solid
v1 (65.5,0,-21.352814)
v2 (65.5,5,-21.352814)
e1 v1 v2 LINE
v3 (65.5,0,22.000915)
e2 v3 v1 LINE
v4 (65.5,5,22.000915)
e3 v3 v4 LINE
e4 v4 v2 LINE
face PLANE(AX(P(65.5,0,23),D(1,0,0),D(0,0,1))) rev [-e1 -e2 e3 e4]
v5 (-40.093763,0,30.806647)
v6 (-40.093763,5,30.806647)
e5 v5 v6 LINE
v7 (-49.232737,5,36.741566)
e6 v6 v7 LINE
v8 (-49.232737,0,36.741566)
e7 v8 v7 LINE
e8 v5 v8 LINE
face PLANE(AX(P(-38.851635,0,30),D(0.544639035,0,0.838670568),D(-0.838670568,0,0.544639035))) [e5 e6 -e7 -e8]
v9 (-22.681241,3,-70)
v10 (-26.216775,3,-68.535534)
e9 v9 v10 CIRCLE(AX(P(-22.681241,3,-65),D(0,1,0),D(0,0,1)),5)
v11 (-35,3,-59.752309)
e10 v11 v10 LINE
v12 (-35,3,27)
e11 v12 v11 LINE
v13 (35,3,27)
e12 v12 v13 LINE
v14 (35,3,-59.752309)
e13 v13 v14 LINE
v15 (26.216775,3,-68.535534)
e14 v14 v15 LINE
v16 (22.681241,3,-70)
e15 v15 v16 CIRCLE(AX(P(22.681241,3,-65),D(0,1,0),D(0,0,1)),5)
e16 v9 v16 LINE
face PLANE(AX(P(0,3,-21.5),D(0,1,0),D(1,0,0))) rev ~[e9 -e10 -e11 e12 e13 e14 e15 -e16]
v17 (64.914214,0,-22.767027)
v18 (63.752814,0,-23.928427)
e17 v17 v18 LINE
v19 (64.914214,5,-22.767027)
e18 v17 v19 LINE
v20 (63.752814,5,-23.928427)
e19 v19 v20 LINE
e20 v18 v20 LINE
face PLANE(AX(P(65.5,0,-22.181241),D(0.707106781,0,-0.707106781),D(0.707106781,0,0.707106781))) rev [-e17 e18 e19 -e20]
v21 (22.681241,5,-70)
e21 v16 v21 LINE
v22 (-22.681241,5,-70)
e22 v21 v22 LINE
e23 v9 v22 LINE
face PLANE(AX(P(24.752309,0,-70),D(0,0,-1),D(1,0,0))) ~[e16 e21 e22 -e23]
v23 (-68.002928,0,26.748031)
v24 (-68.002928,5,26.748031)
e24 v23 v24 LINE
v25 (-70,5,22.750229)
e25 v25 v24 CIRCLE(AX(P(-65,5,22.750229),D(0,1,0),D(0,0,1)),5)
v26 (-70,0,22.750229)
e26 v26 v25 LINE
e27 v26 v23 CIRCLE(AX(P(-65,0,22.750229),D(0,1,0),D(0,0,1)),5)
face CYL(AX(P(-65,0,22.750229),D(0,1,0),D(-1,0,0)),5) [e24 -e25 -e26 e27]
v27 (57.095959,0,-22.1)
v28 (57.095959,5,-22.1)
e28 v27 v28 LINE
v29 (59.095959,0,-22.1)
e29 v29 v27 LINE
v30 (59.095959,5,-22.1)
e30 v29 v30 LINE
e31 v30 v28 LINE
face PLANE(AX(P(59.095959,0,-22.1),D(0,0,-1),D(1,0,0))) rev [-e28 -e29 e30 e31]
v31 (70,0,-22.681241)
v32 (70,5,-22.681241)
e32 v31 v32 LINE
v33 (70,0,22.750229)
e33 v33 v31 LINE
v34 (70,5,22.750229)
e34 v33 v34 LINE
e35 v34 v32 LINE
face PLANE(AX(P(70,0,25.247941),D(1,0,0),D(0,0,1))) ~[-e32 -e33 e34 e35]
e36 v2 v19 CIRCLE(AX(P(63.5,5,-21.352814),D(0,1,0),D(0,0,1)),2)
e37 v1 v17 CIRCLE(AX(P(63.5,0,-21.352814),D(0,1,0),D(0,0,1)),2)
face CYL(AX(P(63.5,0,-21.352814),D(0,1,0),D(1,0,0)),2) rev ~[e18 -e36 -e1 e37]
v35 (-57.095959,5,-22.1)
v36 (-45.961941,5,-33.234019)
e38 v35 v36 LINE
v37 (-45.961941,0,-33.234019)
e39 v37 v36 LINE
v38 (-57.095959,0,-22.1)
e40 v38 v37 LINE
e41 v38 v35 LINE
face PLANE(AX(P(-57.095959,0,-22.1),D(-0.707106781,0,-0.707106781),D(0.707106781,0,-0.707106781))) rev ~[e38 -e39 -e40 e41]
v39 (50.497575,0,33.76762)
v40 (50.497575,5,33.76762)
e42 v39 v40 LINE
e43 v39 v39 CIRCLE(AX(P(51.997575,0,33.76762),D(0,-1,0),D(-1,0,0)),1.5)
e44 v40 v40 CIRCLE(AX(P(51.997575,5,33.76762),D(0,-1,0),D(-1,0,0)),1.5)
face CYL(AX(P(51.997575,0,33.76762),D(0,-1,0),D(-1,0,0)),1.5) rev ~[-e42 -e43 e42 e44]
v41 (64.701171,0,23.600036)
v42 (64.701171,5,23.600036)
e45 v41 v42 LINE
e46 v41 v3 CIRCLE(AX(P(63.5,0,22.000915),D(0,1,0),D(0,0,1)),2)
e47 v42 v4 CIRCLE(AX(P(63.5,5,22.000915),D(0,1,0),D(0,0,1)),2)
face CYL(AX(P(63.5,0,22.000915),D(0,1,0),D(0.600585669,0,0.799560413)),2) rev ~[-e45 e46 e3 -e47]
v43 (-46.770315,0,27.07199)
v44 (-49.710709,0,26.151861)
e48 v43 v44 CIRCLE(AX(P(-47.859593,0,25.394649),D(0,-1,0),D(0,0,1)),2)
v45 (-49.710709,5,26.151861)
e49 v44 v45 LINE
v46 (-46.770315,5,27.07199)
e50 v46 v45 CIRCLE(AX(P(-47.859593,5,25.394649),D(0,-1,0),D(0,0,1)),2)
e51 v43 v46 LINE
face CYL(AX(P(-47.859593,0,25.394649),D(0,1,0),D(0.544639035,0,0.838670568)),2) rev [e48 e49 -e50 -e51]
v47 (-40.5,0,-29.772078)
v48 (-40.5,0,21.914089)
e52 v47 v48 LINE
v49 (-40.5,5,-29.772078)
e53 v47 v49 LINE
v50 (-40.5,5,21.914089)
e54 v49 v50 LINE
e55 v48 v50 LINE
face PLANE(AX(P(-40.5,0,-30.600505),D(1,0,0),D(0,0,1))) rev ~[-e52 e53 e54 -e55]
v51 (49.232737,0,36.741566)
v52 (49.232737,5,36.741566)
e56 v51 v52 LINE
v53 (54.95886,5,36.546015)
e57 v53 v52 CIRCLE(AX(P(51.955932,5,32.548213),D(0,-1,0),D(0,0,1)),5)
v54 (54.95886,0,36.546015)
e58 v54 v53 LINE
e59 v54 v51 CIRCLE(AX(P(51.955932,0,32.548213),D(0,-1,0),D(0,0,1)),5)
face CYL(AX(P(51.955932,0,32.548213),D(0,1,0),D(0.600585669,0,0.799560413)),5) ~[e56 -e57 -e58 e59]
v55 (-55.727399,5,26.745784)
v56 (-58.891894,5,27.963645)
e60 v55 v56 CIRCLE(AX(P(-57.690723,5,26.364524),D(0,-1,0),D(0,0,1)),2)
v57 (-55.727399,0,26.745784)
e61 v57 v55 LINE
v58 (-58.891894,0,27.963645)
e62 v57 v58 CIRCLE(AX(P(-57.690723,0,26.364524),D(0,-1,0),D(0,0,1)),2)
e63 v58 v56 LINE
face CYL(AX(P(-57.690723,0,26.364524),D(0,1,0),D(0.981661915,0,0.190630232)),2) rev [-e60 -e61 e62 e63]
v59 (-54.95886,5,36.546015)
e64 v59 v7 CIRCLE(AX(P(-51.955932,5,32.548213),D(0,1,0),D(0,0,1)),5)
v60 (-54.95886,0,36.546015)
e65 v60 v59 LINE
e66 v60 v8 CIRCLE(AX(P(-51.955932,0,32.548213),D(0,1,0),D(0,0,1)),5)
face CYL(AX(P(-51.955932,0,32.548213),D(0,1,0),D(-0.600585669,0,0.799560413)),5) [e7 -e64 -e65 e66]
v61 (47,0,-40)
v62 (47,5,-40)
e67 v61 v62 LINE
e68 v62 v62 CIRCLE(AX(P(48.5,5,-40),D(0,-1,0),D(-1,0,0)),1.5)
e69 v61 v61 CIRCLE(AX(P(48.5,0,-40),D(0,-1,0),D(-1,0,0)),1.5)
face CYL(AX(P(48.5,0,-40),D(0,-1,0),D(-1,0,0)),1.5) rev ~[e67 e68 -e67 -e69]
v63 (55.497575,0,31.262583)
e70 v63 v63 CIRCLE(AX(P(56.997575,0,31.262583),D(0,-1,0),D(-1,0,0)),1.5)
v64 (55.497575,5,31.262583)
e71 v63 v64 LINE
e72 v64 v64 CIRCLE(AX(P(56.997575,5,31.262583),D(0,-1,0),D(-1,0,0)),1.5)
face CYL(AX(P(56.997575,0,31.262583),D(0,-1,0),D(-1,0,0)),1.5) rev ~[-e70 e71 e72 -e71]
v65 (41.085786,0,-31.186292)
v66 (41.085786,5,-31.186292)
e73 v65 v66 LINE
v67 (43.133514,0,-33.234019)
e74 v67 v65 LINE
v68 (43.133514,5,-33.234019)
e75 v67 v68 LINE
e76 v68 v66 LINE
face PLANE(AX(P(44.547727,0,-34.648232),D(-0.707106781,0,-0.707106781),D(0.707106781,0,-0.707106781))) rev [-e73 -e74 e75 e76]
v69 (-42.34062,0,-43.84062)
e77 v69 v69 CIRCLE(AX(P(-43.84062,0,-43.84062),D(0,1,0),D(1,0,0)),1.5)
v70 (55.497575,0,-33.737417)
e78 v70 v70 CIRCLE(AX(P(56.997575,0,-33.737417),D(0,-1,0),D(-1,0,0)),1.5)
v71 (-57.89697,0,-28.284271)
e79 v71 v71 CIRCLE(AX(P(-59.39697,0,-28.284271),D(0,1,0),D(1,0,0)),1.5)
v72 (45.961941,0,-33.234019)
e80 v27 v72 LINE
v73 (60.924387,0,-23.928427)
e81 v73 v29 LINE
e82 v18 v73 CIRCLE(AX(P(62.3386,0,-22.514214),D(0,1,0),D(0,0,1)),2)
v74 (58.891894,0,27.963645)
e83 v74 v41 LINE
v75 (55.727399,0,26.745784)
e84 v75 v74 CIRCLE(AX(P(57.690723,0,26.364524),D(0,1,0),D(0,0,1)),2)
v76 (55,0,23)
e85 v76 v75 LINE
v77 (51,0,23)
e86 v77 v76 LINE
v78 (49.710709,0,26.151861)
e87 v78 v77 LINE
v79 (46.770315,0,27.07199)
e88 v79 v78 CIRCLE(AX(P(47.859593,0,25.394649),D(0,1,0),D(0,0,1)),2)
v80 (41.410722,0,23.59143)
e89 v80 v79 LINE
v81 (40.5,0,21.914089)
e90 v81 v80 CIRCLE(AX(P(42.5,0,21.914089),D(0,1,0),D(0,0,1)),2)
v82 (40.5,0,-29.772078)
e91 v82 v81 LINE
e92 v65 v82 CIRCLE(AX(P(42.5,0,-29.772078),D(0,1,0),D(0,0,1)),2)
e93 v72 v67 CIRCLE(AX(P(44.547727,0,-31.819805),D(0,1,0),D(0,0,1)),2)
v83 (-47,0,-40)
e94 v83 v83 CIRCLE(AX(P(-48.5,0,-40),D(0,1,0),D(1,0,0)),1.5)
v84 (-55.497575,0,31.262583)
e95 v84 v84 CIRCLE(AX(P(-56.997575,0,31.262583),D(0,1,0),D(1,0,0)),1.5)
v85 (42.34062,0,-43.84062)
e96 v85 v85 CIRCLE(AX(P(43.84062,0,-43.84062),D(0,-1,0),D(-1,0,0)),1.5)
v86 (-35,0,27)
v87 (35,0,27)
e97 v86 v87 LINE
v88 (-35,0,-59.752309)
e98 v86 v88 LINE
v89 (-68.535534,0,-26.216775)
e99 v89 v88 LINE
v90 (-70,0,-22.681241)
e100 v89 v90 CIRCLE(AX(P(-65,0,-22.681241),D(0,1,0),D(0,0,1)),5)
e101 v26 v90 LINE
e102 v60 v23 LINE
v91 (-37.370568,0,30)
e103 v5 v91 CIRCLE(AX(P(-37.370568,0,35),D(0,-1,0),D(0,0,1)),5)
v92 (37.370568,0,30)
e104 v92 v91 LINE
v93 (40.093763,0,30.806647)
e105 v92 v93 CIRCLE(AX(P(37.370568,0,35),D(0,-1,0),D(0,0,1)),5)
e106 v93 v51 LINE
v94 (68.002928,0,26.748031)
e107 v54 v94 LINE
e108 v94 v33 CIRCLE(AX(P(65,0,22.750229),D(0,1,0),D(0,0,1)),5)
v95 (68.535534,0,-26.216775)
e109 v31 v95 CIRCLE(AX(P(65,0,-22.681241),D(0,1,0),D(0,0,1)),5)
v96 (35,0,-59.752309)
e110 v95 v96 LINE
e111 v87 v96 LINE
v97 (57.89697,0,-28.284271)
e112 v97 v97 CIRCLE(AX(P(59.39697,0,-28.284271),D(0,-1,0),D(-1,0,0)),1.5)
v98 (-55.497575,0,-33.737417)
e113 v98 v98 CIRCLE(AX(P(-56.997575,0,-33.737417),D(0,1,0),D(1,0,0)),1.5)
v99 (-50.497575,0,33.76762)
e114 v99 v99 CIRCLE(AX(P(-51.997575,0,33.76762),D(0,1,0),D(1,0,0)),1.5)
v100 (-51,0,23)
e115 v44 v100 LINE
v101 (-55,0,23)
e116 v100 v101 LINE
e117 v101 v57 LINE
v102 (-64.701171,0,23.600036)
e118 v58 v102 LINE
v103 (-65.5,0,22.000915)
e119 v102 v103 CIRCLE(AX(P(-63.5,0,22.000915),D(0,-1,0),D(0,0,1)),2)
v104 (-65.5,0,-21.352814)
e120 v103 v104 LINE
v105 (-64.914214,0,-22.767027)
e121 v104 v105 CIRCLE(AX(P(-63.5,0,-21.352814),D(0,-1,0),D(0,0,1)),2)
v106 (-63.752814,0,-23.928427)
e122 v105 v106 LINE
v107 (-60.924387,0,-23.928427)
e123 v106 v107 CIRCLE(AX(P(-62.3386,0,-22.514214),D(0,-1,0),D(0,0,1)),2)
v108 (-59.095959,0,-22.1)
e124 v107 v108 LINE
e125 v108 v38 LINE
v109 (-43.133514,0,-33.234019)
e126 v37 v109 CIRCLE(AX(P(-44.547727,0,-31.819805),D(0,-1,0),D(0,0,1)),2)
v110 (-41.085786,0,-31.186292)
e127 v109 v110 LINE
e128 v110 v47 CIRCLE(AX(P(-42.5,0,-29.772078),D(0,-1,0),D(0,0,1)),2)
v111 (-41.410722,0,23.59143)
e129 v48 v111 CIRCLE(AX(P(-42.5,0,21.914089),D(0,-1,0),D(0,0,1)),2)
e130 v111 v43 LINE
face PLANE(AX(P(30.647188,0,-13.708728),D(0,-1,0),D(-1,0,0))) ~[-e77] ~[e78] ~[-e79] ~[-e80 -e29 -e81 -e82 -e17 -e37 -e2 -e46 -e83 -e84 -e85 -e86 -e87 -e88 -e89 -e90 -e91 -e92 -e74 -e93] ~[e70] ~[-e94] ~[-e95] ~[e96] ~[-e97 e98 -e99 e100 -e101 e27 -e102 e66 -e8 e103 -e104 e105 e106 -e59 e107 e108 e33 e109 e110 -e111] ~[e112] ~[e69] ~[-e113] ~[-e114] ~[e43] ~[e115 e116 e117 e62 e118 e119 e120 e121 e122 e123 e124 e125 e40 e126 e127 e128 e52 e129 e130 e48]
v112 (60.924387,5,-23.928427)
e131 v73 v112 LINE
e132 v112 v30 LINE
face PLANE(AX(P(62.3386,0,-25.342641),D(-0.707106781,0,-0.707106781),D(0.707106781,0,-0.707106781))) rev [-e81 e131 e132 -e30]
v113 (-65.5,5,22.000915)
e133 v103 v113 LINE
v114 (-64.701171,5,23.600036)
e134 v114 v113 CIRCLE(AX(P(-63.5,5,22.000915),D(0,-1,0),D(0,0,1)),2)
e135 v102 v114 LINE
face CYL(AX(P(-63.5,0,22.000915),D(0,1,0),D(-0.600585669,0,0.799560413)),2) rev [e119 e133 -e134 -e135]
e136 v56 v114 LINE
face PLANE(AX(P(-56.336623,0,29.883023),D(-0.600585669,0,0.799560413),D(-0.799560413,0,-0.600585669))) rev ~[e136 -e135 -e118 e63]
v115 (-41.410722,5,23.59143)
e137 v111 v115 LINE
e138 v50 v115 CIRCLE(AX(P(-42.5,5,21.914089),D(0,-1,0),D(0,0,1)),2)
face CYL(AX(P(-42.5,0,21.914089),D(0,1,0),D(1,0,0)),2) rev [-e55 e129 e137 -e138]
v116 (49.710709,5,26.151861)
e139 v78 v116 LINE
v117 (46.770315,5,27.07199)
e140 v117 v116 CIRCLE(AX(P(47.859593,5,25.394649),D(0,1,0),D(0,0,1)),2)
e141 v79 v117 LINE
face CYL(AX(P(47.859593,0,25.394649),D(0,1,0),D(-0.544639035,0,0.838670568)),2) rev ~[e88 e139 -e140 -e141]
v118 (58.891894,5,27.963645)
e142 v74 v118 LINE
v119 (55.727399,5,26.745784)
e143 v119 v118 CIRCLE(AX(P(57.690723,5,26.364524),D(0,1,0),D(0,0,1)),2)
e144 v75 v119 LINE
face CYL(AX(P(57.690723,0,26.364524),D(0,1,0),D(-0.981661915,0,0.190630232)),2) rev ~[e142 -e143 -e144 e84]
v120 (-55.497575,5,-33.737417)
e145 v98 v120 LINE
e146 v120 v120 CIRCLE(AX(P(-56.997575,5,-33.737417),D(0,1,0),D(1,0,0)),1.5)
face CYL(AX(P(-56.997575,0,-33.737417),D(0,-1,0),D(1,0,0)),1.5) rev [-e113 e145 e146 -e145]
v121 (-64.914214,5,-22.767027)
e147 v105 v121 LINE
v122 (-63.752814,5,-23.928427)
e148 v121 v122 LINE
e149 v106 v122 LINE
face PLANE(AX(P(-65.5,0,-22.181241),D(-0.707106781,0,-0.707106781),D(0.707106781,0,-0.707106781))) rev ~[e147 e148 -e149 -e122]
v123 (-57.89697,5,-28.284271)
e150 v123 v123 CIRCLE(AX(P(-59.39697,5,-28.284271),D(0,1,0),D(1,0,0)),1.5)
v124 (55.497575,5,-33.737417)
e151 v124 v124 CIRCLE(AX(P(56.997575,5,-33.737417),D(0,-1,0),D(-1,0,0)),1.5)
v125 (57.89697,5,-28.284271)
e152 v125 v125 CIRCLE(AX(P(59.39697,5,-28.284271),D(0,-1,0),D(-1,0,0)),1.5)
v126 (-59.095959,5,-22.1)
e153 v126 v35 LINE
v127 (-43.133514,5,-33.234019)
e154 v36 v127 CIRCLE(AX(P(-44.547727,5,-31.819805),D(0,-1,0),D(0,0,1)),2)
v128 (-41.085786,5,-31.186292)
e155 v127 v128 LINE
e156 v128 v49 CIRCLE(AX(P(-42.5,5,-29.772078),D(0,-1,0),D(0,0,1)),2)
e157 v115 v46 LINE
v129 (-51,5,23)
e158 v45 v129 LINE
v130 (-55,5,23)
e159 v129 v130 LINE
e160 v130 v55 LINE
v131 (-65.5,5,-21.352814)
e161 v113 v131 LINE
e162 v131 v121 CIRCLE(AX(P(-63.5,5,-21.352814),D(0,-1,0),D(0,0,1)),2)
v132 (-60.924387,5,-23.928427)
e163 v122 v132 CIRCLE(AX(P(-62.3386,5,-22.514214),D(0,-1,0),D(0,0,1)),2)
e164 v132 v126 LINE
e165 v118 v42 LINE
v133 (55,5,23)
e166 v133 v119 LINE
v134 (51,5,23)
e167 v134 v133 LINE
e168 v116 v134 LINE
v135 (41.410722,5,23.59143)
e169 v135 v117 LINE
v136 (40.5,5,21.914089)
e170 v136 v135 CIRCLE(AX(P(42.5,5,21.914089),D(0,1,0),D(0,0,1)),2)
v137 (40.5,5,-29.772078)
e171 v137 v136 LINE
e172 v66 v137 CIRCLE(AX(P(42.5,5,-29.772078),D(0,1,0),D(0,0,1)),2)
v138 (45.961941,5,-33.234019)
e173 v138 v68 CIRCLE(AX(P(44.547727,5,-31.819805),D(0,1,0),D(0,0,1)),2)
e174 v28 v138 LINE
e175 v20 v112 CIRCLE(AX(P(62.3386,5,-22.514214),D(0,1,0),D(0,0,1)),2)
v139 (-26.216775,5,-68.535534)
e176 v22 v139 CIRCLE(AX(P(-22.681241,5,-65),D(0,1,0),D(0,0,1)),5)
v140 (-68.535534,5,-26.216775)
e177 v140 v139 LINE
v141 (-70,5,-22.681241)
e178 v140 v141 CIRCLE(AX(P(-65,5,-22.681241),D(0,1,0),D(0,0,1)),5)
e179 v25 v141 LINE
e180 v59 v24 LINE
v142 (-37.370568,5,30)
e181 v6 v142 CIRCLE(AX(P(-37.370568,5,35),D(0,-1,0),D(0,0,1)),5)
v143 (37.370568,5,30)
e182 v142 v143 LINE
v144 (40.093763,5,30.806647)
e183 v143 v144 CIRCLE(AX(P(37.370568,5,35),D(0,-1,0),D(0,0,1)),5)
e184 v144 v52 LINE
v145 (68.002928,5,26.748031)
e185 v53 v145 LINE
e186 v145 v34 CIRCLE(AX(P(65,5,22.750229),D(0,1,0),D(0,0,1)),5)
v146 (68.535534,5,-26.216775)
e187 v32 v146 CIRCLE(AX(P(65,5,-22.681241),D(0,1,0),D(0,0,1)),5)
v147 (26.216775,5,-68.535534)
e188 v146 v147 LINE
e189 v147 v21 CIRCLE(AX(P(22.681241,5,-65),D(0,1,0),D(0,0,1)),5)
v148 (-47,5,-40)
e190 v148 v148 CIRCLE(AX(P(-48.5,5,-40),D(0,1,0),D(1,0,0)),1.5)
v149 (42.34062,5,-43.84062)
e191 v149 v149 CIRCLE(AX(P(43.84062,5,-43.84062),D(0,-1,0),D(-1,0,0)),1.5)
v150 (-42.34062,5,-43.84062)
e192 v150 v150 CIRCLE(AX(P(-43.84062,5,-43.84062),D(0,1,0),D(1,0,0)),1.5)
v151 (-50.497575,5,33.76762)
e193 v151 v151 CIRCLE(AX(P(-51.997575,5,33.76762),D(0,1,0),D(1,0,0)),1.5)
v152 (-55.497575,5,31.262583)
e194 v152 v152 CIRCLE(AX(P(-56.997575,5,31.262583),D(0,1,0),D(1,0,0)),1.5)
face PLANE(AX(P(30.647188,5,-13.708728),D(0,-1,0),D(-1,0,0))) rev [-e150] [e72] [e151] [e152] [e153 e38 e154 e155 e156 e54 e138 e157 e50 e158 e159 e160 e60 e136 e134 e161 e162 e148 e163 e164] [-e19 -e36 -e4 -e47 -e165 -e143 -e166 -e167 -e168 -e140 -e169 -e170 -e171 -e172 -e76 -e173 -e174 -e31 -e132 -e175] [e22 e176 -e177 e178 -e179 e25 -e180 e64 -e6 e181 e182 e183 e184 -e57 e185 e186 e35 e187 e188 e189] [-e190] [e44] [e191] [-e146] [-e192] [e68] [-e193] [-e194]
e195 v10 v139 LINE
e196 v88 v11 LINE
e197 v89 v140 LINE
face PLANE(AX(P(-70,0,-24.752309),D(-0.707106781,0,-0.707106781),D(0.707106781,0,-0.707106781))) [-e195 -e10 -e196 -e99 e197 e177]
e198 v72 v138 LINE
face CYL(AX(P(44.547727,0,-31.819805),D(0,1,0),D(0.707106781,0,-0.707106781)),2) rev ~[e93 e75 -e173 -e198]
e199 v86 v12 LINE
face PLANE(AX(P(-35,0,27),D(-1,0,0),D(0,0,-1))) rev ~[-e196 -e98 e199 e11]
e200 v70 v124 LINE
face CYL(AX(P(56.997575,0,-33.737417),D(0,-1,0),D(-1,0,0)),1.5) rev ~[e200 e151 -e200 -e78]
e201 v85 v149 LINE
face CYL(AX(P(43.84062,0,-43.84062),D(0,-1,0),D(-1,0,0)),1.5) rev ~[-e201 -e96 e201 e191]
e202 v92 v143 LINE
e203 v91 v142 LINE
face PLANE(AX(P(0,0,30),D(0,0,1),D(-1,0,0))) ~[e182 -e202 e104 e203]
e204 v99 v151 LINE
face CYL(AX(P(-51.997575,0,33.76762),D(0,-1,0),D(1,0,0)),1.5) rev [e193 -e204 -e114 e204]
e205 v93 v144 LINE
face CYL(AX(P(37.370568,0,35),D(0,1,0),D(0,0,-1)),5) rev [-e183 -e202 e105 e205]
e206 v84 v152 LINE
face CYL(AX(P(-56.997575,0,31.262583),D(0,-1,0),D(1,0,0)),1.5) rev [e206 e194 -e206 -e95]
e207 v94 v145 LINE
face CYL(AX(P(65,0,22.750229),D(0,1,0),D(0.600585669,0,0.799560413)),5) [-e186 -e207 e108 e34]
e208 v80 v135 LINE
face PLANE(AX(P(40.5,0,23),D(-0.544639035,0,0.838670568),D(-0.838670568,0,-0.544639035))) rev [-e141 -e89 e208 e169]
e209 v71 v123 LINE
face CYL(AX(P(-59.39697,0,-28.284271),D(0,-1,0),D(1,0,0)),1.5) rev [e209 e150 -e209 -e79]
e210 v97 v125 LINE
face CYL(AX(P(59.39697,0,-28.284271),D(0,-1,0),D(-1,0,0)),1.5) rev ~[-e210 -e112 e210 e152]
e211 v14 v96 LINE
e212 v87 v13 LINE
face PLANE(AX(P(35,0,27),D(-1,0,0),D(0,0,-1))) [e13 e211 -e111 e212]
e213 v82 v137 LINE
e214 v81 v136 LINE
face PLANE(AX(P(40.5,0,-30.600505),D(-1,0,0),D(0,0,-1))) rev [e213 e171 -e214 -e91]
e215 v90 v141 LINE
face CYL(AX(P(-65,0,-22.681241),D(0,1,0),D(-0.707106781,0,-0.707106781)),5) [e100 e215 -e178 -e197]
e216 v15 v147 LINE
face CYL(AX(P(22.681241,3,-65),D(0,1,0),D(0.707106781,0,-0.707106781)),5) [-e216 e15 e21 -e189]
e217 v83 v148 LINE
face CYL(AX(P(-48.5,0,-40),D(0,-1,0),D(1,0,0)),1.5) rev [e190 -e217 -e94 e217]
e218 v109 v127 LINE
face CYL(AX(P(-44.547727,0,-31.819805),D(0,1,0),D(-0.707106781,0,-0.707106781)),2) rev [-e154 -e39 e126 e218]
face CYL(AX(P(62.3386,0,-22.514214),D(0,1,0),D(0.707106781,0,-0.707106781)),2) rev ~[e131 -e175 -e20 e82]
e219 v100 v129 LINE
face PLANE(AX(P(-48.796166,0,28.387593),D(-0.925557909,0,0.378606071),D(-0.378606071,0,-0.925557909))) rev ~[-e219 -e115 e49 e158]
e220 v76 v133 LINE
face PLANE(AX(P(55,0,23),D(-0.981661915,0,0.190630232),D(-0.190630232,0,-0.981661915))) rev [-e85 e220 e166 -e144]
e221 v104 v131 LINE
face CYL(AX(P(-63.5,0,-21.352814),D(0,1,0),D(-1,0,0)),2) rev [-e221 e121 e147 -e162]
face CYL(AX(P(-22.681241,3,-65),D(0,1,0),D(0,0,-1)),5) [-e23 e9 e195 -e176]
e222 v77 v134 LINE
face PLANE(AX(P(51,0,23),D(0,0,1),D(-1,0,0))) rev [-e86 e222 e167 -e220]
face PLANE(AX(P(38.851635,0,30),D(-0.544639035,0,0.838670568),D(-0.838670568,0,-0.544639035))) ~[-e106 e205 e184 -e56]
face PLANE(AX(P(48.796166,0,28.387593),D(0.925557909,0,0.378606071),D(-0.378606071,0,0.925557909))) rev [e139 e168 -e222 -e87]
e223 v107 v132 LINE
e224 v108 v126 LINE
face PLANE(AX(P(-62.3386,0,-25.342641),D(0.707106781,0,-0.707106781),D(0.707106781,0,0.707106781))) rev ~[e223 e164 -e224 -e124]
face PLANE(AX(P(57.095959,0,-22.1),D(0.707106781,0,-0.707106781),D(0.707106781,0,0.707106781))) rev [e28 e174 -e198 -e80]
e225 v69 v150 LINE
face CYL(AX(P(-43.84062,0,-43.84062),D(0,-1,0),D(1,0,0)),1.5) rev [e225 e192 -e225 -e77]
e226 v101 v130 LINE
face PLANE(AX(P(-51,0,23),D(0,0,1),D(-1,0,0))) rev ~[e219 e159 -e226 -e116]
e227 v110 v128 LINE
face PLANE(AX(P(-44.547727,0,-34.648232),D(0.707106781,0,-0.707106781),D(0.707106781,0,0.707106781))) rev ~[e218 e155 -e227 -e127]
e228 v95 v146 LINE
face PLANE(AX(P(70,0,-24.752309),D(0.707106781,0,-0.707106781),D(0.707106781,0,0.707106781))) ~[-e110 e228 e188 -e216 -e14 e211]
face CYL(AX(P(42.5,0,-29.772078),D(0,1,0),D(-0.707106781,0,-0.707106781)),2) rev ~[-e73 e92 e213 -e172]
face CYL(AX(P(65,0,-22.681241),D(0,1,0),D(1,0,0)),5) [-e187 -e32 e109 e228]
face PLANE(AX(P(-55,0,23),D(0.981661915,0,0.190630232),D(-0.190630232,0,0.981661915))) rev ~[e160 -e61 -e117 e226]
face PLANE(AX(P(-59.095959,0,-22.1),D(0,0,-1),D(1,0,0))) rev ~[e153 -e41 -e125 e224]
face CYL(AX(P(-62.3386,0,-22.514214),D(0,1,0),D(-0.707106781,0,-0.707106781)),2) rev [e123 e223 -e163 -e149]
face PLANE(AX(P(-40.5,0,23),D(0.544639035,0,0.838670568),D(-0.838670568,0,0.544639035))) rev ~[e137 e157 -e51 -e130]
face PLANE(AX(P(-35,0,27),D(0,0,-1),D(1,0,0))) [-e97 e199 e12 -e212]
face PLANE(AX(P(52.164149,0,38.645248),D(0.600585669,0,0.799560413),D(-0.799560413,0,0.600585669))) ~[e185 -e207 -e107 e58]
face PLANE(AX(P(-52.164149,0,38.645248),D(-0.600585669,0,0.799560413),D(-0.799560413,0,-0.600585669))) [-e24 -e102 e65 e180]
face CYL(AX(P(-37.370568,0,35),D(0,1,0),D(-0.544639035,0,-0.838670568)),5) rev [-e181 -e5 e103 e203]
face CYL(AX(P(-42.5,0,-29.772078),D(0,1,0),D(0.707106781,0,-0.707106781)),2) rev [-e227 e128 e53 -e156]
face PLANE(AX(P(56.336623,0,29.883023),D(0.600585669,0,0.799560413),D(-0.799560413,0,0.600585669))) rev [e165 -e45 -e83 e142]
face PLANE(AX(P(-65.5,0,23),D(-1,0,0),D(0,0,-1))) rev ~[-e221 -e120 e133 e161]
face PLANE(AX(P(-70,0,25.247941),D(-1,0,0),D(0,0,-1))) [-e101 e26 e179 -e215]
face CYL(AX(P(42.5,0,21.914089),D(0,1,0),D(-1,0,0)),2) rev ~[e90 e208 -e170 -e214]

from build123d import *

# Parameters (mm, degrees)
SKETCH1_R            = 1.5
BOSS_EXTRUDE1_DEPTH  = 5
FILLET1_R            = 2
FILLET1_OF_MIRROR1_R = 2
SKETCH2_W            = 70
SKETCH2_H            = 97
CUT_EXTRUDE1_DEPTH   = 3
FILLET2_R            = 5


with BuildPart() as part:
    # Sketch1 → Boss-Extrude1 (new body)
    with BuildSketch(Plane(origin=(0, 0, 0), x_dir=(1, 0, 0), z_dir=(0, 1, 0))):
        Polygon((-52.164149312, -38.645247828), (-70, -25.247940817), (-70, 24.752308679), (-24.752308679, 70), (0, 70), (0, -30), (-38.851635079, -30), align=None)
        with Locations((-43.840620434, 43.840620434)):
            Circle(SKETCH1_R, mode=Mode.SUBTRACT)
        with Locations((-51.997575213, -33.767620171)):
            Circle(SKETCH1_R, mode=Mode.SUBTRACT)
        with Locations((-59.39696962, 28.284271247)):
            Circle(SKETCH1_R, mode=Mode.SUBTRACT)
        with Locations((-56.997575213, 33.73741674)):
            Circle(SKETCH1_R, mode=Mode.SUBTRACT)
        with Locations((-56.997575213, -31.26258326)):
            Circle(SKETCH1_R, mode=Mode.SUBTRACT)
        with Locations((-48.5, 40)):
            Circle(SKETCH1_R, mode=Mode.SUBTRACT)
        Polygon((-59.095959493, 22.1), (-57.095959493, 22.1), (-44.547727215, 34.648232278), (-40.5, 30.600505063), (-40.5, -23), (-48.796166422, -28.387593469), (-51, -23), (-55, -23), (-56.33662338, -29.883022962), (-65.5, -23), (-65.5, 22.181240867), (-62.33860018, 25.342640687), align=None, mode=Mode.SUBTRACT)
    boss_extrude1 = extrude(amount=BOSS_EXTRUDE1_DEPTH)

    # Fillet1
    fillet1_edges = [part.edges().sort_by_distance(p)[0] for p in [
        (-44.547727215, 2.5, -34.648232278),
        (-62.33860018, 2.5, -25.342640687),
        (-65.5, 2.5, -22.181240867),
        (-65.5, 2.5, 23),
        (-56.33662338, 2.5, 29.883022962),
        (-48.796166422, 2.5, 28.387593469),
        (-40.5, 2.5, 23),
        (-40.5, 2.5, -30.600505063),
    ]]
    fillet(fillet1_edges, radius=FILLET1_R)

    # Mirror1: Boss-Extrude1 across plane
    add(boss_extrude1.mirror(Plane(origin=(0, 5, 30), x_dir=(0, 0, 1), z_dir=(-1, 0, 0))))

    # Fillet1 of Mirror1
    fillet1_of_mirror1_edges = [part.edges().sort_by_distance(p)[0] for p in [
        (44.547727215, 2.5, -34.648232278),
        (62.33860018, 2.5, -25.342640687),
        (65.5, 2.5, -22.181240867),
        (65.5, 2.5, 23),
        (56.33662338, 2.5, 29.883022962),
        (48.796166422, 2.5, 28.387593469),
        (40.5, 2.5, 23),
        (40.5, 2.5, -30.600505063),
    ]]
    fillet(fillet1_of_mirror1_edges, radius=FILLET1_OF_MIRROR1_R)

    # Sketch2 → Cut-Extrude1 (cut)
    with BuildSketch(Plane(origin=(0, 0, 0), x_dir=(1, 0, 0), z_dir=(0, 1, 0))):
        with Locations((0, 21.5)):
            Rectangle(SKETCH2_W, SKETCH2_H)
    extrude(amount=CUT_EXTRUDE1_DEPTH, mode=Mode.SUBTRACT)

    # Fillet2
    fillet2_edges = [part.edges().sort_by_distance(p)[0] for p in [
        (-70, 2.5, -24.752308679),
        (-24.752308679, 4, -70),
        (-38.851635079, 2.5, 30),
        (-52.164149312, 2.5, 38.645247828),
        (-70, 2.5, 25.247940817),
        (70, 2.5, 25.247940817),
        (70, 2.5, -24.752308679),
        (24.752308679, 4, -70),
        (38.851635079, 2.5, 30),
        (52.164149312, 2.5, 38.645247828),
    ]]
    fillet(fillet2_edges, radius=FILLET2_R)


solid = part.part
